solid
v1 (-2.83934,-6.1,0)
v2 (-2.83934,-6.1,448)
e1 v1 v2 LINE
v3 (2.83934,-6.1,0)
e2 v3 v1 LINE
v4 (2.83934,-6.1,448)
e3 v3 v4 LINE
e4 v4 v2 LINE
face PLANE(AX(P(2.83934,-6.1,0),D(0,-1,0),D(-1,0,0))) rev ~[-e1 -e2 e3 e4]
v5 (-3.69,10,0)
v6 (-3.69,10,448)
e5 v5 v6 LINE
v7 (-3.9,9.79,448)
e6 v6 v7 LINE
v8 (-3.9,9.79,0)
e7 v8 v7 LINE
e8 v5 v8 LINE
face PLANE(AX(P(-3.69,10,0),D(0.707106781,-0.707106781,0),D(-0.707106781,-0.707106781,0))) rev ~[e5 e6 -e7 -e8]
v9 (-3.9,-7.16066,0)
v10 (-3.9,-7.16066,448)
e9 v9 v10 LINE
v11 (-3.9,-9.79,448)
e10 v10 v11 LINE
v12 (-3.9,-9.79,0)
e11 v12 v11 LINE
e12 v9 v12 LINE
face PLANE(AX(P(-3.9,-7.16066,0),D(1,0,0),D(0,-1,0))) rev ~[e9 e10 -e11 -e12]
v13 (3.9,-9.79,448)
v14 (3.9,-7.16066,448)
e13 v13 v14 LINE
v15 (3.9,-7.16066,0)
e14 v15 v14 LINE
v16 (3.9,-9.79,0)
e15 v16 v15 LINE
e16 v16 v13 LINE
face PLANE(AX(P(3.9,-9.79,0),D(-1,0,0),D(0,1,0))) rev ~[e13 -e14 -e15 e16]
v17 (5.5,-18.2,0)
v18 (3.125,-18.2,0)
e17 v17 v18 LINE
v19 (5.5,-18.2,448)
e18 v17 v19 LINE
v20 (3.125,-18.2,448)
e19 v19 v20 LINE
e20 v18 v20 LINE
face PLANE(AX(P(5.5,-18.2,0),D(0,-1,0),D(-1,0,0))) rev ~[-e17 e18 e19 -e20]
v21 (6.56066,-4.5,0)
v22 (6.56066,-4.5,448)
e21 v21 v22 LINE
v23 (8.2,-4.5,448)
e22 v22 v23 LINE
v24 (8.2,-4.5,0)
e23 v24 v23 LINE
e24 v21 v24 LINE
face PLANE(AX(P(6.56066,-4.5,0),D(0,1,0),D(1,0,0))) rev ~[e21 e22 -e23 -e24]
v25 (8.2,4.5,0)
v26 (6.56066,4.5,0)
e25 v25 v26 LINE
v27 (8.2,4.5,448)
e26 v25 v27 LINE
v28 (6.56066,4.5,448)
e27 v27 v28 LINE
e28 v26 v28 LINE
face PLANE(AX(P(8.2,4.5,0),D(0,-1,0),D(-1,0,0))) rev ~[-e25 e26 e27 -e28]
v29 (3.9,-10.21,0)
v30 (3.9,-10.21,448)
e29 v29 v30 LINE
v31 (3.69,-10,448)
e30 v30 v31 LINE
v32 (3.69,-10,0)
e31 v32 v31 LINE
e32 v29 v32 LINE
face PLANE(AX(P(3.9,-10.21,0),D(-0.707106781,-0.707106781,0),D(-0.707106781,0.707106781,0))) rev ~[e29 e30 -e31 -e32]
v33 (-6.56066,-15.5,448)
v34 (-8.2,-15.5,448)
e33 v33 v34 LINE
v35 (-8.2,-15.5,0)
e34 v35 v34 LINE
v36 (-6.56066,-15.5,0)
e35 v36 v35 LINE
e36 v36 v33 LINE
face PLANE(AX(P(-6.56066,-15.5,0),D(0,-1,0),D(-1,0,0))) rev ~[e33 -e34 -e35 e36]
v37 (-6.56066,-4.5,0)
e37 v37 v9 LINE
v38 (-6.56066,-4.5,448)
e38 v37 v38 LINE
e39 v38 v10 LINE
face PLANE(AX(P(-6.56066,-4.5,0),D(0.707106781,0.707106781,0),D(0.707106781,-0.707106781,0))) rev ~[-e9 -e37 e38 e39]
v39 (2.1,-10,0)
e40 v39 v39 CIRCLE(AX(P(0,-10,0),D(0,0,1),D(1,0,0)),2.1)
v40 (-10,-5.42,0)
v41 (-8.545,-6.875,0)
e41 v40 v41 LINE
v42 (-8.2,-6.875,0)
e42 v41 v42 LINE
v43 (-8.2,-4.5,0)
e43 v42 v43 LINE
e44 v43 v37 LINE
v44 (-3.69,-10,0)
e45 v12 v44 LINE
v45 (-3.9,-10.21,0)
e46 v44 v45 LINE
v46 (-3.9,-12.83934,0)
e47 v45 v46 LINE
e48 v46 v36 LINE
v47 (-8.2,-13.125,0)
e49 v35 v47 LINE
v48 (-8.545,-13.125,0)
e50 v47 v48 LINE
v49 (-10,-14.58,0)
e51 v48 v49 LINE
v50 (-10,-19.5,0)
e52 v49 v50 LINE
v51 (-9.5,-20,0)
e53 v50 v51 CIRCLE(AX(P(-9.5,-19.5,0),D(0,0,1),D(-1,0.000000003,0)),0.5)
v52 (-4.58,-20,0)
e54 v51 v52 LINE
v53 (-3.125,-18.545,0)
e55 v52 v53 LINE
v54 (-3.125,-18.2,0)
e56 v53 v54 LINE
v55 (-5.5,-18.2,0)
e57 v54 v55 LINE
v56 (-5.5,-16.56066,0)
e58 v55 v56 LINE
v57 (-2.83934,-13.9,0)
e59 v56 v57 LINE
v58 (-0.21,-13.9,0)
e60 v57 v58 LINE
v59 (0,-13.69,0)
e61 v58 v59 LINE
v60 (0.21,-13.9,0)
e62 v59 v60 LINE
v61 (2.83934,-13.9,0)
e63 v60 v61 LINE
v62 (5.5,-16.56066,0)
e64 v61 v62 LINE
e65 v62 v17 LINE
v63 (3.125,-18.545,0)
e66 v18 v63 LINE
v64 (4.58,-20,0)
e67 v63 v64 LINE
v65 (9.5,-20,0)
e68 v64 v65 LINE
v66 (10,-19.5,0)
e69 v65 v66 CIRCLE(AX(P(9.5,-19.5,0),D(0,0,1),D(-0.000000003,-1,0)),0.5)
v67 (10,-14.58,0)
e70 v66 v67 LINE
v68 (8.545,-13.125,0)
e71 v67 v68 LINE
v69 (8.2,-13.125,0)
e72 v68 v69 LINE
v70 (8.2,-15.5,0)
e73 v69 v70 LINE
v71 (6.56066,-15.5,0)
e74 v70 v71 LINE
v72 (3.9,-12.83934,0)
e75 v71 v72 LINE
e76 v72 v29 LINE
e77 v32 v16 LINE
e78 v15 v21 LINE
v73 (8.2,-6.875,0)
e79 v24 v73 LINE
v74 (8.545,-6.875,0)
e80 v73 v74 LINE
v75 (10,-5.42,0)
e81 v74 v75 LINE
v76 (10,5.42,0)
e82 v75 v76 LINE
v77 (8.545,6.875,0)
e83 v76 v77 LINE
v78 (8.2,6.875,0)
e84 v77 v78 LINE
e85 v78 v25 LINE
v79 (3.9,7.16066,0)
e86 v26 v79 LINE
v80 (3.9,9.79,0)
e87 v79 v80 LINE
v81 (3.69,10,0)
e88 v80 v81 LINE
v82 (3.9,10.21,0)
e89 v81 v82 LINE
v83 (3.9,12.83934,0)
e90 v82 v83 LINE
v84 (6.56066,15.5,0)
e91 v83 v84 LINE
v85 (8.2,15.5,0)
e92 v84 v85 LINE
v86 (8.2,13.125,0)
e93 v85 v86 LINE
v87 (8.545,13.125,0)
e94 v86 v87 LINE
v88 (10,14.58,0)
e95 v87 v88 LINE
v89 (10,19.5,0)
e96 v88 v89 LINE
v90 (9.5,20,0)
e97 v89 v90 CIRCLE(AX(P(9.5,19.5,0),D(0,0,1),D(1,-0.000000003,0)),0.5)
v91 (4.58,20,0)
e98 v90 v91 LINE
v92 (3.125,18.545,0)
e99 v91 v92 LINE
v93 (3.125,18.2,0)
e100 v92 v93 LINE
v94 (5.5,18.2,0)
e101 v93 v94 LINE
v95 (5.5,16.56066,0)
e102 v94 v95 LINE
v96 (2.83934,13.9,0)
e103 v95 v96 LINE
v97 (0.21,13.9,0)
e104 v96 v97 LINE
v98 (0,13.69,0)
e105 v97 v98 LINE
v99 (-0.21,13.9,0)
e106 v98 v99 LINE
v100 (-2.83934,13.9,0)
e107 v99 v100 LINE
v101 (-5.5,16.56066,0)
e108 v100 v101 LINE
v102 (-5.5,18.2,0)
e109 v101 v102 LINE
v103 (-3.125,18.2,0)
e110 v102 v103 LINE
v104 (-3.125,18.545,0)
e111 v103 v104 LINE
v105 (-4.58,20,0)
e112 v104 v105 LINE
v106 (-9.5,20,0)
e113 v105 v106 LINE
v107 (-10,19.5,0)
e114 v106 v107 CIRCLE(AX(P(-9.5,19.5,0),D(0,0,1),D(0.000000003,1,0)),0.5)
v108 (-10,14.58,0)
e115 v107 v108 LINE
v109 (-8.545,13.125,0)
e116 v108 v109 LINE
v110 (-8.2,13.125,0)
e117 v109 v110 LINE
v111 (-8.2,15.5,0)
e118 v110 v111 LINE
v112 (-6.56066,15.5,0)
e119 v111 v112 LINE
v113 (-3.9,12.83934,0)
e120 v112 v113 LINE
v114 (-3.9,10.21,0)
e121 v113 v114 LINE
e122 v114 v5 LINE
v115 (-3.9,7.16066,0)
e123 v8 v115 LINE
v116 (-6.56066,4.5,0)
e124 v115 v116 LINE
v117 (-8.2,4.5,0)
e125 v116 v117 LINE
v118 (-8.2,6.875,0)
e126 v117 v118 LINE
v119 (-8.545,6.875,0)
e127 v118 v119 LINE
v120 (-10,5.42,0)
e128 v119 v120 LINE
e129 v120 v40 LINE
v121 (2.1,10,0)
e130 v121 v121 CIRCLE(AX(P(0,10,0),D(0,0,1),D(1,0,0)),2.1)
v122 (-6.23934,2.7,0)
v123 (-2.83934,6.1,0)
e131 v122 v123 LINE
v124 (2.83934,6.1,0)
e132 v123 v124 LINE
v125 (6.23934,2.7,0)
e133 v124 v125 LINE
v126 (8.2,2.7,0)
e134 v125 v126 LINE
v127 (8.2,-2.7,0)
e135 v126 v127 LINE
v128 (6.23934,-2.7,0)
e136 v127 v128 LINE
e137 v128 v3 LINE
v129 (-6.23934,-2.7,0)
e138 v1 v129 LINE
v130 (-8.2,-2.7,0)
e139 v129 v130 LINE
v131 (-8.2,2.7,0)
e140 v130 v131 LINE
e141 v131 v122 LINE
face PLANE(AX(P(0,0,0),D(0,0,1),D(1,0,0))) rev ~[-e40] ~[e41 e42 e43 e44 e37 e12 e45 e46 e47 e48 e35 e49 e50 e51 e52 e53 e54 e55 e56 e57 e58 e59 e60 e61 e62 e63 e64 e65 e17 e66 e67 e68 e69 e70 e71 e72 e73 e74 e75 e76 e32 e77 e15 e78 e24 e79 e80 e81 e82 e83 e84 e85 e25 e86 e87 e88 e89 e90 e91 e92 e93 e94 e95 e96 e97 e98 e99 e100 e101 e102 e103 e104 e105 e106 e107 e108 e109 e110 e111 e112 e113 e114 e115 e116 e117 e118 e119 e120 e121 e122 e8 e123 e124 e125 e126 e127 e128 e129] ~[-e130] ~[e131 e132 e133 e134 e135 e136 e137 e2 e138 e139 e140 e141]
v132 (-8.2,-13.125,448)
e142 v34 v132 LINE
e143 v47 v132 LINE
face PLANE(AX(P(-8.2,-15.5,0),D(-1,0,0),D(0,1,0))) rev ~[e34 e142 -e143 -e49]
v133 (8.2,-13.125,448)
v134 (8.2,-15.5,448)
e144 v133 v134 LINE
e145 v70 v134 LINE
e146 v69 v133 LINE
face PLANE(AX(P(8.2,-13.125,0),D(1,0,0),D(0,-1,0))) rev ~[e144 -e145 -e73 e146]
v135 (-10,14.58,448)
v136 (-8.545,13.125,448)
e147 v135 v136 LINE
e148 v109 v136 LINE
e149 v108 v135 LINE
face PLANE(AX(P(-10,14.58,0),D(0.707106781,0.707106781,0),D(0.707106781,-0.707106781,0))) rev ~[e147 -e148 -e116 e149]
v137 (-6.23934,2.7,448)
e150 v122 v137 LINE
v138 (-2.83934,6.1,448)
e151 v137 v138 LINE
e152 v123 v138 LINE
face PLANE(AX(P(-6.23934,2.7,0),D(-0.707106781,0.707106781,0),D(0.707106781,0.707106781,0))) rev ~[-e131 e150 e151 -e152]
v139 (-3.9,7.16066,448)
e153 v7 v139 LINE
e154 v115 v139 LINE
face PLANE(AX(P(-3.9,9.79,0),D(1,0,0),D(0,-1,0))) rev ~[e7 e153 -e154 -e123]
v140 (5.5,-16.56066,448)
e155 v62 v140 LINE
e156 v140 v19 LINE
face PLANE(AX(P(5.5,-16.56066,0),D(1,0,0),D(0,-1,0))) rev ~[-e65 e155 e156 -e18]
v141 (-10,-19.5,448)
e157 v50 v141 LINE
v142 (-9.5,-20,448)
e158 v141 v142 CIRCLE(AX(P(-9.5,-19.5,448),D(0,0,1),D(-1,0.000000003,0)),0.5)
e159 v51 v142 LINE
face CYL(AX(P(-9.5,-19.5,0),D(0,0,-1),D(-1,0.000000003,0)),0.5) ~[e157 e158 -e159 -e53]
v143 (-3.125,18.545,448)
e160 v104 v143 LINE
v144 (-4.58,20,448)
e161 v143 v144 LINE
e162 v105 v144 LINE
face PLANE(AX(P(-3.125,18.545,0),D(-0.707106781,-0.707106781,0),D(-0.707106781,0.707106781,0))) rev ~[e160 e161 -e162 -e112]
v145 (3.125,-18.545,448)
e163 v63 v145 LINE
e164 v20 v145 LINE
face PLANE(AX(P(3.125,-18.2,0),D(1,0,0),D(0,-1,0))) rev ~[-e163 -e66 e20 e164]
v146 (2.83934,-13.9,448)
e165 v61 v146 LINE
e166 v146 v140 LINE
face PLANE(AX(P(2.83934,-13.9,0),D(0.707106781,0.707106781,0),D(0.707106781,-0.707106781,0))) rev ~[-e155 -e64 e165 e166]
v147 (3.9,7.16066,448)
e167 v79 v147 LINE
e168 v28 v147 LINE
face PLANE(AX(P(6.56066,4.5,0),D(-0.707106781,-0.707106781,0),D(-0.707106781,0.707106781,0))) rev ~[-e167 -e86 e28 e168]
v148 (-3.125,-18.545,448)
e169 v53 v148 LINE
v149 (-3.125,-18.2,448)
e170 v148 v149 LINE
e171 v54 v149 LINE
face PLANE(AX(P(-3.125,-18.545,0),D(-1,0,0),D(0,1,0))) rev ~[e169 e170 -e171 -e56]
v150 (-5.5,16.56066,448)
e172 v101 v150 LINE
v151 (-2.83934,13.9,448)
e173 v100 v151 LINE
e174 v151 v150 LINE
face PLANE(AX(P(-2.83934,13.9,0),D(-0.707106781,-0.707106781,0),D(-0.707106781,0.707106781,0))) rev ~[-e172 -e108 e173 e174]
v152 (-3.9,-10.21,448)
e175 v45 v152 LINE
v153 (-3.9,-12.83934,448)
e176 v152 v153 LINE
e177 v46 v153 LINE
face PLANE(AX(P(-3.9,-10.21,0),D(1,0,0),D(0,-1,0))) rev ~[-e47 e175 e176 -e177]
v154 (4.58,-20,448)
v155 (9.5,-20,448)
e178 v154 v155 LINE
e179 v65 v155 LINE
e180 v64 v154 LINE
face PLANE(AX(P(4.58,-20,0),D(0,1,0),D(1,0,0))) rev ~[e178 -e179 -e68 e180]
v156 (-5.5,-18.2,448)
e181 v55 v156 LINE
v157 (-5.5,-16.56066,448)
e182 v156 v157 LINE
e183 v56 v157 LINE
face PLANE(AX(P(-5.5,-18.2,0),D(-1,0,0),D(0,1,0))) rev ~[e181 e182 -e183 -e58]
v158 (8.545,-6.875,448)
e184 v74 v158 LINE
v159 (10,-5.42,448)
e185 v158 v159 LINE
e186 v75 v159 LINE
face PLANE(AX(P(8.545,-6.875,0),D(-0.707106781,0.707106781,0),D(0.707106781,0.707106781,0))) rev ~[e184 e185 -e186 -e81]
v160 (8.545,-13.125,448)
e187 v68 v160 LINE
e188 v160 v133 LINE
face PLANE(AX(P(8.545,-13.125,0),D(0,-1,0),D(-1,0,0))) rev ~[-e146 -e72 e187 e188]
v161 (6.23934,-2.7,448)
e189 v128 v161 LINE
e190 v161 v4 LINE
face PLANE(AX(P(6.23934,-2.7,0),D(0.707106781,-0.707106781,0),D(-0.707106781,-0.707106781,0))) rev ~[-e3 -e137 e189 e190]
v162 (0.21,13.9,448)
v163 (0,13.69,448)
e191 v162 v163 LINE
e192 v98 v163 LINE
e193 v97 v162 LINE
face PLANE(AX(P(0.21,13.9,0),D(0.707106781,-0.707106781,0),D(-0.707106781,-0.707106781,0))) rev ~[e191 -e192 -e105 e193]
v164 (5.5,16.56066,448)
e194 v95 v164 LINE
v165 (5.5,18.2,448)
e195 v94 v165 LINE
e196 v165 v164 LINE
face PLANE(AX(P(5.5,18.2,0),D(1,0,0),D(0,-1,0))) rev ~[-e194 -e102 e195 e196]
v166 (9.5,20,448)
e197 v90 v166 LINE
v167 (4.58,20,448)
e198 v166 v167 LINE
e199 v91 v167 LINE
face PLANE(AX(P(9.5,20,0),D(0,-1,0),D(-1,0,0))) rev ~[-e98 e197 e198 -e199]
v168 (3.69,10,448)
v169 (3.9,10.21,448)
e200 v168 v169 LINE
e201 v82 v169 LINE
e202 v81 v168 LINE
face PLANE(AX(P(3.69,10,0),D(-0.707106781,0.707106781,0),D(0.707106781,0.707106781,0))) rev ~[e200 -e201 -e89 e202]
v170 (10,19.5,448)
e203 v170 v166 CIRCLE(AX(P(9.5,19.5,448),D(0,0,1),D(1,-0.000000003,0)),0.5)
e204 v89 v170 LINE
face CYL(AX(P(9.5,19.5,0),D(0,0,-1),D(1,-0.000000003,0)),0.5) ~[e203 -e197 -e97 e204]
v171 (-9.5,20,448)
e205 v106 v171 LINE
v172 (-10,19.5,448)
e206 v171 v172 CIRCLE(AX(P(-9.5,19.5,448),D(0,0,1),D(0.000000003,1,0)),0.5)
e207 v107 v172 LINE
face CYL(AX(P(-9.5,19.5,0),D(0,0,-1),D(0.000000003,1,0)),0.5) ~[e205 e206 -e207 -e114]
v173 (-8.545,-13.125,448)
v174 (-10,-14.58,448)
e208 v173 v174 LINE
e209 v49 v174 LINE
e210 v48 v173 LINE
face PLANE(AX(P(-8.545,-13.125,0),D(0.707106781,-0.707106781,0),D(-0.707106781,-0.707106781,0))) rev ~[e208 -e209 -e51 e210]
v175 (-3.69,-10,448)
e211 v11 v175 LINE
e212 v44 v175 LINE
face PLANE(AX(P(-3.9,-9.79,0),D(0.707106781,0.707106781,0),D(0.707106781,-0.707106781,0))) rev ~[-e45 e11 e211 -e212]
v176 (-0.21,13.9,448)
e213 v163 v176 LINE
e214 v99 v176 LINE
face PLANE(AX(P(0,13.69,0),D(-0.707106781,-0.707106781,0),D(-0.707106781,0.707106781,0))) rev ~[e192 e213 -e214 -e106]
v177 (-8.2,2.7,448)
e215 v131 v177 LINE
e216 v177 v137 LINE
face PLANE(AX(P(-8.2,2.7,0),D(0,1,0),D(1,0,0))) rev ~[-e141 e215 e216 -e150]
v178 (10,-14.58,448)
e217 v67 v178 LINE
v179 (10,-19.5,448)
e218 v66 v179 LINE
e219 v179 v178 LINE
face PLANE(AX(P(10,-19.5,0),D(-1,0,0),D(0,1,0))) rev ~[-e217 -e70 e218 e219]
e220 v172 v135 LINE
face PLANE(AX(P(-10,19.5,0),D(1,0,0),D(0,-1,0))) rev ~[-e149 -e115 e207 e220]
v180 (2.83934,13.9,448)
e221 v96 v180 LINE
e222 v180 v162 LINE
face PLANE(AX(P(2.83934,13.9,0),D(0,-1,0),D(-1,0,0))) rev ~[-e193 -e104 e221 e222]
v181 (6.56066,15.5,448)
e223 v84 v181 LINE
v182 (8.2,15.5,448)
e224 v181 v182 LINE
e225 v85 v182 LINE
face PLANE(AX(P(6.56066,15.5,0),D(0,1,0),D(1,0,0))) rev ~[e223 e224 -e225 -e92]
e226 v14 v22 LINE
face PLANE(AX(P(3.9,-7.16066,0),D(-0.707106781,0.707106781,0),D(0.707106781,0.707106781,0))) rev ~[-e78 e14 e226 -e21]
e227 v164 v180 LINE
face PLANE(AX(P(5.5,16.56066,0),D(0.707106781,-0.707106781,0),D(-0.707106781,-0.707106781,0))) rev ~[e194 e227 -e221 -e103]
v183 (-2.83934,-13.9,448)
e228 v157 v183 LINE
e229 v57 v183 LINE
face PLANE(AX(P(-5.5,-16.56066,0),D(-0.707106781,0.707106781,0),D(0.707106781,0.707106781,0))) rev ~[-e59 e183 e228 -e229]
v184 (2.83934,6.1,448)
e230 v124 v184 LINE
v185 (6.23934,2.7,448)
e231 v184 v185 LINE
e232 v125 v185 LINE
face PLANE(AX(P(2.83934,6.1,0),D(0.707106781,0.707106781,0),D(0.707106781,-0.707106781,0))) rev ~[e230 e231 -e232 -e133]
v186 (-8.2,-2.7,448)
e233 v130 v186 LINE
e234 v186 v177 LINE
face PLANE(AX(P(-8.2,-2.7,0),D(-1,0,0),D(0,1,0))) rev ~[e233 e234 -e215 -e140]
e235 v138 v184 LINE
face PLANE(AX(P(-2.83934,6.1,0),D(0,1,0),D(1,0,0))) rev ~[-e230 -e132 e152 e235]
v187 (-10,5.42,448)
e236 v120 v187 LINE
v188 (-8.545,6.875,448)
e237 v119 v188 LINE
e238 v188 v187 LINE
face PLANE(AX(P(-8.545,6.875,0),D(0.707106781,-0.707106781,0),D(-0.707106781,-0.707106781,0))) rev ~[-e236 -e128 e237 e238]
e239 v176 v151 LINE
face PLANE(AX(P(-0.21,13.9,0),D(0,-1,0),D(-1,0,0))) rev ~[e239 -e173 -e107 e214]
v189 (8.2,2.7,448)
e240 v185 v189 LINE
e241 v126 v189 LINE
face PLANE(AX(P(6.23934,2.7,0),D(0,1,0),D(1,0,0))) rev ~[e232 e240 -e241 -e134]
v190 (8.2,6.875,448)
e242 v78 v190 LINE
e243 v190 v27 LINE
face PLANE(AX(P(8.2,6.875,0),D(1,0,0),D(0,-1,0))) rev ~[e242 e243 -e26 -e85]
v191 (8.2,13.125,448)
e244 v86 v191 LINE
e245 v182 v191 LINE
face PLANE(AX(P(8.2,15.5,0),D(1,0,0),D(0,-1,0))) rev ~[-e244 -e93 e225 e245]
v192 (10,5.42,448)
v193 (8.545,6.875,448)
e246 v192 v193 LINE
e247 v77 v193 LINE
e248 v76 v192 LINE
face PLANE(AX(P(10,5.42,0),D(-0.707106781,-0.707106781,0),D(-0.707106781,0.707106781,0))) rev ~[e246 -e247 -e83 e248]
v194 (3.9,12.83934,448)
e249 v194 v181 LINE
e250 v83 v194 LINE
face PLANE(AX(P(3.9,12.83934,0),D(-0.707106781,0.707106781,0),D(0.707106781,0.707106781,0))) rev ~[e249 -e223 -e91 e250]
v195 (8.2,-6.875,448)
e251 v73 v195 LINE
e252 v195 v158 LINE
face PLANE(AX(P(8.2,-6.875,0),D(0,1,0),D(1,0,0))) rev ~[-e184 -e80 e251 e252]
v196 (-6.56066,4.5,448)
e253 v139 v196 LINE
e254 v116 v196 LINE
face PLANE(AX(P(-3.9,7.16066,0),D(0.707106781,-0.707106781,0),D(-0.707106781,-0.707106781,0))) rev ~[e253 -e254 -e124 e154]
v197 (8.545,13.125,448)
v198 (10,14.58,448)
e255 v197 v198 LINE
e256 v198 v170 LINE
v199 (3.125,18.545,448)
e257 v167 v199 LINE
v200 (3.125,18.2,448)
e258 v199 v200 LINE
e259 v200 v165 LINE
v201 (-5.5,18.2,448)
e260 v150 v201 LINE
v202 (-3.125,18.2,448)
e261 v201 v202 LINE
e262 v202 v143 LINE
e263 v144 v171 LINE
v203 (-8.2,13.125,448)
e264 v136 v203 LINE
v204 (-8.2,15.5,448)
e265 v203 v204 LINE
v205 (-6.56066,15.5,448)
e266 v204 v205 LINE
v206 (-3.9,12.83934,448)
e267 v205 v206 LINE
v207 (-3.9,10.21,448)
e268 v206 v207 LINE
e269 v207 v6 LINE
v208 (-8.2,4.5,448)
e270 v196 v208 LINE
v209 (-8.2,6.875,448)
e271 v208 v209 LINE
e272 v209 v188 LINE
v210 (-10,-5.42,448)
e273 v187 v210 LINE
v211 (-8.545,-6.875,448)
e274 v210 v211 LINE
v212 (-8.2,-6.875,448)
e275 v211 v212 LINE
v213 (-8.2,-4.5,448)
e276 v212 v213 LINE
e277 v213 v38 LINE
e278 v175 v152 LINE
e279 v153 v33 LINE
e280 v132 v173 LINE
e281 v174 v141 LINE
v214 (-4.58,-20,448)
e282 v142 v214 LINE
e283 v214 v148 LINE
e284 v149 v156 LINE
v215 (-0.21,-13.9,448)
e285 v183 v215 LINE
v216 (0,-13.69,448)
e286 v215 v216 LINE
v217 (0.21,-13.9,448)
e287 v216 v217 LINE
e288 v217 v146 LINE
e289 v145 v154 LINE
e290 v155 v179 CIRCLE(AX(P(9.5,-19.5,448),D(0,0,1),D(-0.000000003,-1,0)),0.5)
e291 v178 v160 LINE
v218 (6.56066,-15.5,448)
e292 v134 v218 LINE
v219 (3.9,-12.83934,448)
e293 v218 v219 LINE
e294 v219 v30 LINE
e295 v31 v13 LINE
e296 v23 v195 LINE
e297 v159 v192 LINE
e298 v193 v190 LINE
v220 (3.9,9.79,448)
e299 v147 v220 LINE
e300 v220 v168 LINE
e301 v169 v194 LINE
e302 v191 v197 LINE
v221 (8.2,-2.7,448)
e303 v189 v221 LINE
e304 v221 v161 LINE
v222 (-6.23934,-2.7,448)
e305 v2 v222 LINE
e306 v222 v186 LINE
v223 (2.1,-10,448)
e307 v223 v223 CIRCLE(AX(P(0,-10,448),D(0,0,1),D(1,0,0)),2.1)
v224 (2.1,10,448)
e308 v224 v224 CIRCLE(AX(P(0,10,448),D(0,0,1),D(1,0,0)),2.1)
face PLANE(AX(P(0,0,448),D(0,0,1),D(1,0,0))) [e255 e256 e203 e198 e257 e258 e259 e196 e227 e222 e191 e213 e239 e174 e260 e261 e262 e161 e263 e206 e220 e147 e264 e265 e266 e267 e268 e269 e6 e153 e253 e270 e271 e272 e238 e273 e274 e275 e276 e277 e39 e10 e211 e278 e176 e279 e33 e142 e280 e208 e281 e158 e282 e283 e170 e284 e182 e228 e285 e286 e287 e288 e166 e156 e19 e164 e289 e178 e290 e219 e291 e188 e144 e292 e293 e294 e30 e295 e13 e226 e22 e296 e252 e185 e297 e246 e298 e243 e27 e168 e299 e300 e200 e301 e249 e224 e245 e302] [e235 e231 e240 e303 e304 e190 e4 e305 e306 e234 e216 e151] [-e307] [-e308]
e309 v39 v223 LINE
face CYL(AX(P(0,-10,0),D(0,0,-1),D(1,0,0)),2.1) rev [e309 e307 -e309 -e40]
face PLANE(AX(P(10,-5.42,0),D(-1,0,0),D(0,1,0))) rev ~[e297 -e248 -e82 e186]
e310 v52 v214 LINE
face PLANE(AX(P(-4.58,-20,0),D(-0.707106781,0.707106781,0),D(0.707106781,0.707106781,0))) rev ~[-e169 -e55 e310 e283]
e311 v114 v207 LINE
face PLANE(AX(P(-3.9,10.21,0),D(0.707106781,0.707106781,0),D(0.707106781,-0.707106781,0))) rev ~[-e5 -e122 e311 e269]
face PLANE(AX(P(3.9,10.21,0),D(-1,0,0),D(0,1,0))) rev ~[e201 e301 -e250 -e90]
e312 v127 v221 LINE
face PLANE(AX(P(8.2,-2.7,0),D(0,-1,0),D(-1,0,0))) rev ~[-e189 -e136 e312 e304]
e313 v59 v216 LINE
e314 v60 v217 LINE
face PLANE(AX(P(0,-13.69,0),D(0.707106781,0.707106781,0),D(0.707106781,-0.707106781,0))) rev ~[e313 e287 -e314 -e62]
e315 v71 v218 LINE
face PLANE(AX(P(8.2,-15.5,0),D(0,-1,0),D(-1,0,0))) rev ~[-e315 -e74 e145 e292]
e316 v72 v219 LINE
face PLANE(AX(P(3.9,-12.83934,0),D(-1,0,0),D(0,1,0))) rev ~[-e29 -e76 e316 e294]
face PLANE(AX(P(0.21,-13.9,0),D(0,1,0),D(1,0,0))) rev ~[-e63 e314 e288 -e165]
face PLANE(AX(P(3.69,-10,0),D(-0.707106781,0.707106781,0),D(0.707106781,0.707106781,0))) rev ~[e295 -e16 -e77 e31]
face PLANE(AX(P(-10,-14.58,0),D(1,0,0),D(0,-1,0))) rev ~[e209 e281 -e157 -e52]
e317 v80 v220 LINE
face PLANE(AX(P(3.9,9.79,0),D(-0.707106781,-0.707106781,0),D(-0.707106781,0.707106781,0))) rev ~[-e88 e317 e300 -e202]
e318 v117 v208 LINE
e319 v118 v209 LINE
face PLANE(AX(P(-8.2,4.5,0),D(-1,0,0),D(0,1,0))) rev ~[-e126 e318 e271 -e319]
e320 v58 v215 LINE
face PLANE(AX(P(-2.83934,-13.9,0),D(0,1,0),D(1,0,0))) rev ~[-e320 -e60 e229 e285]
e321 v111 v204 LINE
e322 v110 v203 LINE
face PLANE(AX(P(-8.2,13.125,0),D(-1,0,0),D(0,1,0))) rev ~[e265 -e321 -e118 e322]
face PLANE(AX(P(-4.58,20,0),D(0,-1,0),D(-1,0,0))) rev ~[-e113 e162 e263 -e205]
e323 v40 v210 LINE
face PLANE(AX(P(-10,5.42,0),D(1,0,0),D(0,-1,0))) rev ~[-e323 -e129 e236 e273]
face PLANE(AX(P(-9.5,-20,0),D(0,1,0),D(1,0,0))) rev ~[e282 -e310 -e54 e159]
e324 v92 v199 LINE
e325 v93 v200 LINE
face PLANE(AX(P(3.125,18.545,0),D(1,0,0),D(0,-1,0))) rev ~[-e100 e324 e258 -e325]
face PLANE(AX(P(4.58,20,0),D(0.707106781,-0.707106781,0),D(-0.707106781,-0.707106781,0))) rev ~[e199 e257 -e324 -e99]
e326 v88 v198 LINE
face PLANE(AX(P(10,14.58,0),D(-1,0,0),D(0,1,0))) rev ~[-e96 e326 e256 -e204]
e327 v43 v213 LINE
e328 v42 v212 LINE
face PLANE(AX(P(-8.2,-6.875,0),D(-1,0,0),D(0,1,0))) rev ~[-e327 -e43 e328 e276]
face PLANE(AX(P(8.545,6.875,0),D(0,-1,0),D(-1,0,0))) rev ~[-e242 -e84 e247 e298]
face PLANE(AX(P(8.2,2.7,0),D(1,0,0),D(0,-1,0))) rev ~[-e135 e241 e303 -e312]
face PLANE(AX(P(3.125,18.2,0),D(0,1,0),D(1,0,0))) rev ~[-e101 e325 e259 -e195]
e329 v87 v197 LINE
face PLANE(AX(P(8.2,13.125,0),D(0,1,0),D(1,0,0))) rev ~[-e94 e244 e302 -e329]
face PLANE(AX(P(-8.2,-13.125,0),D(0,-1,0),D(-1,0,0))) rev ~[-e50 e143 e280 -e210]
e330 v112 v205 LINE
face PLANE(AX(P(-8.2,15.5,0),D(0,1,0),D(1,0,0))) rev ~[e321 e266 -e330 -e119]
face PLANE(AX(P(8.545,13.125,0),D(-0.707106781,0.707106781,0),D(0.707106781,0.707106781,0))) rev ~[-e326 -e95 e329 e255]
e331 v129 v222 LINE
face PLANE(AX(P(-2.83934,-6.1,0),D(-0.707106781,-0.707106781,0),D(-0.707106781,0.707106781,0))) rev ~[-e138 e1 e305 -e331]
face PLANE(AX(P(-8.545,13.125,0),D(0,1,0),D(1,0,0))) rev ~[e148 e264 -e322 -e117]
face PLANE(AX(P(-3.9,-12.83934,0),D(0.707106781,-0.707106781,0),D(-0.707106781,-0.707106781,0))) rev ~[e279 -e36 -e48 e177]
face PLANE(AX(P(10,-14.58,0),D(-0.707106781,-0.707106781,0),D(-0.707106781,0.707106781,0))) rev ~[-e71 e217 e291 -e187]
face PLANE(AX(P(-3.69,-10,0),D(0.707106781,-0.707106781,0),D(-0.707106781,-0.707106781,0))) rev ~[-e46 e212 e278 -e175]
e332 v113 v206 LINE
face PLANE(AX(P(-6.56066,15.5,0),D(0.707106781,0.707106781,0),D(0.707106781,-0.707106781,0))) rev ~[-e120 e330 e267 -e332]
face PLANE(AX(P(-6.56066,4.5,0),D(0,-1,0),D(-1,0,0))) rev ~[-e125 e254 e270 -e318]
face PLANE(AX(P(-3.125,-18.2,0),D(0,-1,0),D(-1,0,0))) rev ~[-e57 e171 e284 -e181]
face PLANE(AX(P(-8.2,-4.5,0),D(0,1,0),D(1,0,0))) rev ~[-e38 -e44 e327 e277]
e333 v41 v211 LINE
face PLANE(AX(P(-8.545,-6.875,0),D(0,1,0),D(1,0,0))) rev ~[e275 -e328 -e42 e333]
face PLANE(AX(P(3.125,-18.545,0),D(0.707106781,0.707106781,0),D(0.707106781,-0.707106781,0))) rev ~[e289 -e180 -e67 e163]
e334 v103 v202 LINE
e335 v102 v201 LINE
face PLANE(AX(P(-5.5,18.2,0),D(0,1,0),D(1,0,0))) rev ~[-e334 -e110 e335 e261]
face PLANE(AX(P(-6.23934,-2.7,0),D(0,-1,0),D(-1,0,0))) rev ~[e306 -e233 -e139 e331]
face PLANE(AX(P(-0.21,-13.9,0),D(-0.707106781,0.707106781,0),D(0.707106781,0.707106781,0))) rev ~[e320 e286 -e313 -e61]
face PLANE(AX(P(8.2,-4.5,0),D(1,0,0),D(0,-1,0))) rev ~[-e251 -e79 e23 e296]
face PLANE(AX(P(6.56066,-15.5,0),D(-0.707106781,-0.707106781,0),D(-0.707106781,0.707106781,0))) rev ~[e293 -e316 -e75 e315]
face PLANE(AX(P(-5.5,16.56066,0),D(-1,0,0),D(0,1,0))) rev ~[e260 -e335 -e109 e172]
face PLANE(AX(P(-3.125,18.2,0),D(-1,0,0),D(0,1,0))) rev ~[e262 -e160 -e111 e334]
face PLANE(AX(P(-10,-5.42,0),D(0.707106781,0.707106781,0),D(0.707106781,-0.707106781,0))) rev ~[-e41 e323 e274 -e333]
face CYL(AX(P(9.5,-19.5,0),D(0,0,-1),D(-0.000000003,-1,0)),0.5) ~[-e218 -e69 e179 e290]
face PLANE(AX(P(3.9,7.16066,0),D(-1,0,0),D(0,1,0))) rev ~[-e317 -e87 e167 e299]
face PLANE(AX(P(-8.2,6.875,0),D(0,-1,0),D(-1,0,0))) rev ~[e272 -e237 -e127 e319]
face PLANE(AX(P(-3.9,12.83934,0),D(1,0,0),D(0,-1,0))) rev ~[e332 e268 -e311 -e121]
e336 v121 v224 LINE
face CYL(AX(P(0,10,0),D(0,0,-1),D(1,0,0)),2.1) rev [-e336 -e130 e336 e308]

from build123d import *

# Parameters (mm, degrees)
SKETCH1_R           = 2.1
BOSS_EXTRUDE1_DEPTH = 448


with BuildPart() as part:
    # Sketch1 → Boss-Extrude1 (new body)
    with BuildSketch(Plane.XY):
        with BuildLine():
            Line((4.58, -20), (9.5, -20))
            ThreePointArc((9.5, -20), (9.853553391, -19.853553391), (10, -19.5))
            Line((10, -19.5), (10, -14.58))
            Line((10, -14.58), (8.545, -13.125))
            Line((8.545, -13.125), (8.2, -13.125))
            Line((8.2, -13.125), (8.2, -15.5))
            Line((8.2, -15.5), (6.560660172, -15.5))
            Line((6.560660172, -15.5), (3.9, -12.839339828))
            Line((3.9, -12.839339828), (3.9, -10.21))
            Line((3.9, -10.21), (3.69, -10))
            Line((3.69, -10), (3.9, -9.79))
            Line((3.9, -9.79), (3.9, -7.160660172))
            Line((3.9, -7.160660172), (6.560660172, -4.5))
            Line((6.560660172, -4.5), (8.2, -4.5))
            Line((8.2, -4.5), (8.2, -6.875))
            Line((8.2, -6.875), (8.545, -6.875))
            Line((8.545, -6.875), (10, -5.42))
            Line((10, -5.42), (10, 5.42))
            Line((10, 5.42), (8.545, 6.875))
            Line((8.545, 6.875), (8.2, 6.875))
            Line((8.2, 6.875), (8.2, 4.5))
            Line((8.2, 4.5), (6.560660172, 4.5))
            Line((6.560660172, 4.5), (3.9, 7.160660172))
            Line((3.9, 7.160660172), (3.9, 9.79))
            Line((3.9, 9.79), (3.69, 10))
            Line((3.69, 10), (3.9, 10.21))
            Line((3.9, 10.21), (3.9, 12.839339828))
            Line((3.9, 12.839339828), (6.560660172, 15.5))
            Line((6.560660172, 15.5), (8.2, 15.5))
            Line((8.2, 15.5), (8.2, 13.125))
            Line((8.2, 13.125), (8.545, 13.125))
            Line((8.545, 13.125), (10, 14.58))
            Line((10, 14.58), (10, 19.5))
            ThreePointArc((10, 19.5), (9.853553391, 19.853553391), (9.5, 20))
            Line((9.5, 20), (4.58, 20))
            Line((4.58, 20), (3.125, 18.545))
            Line((3.125, 18.545), (3.125, 18.2))
            Line((3.125, 18.2), (5.5, 18.2))
            Line((5.5, 18.2), (5.5, 16.560660172))
            Line((5.5, 16.560660172), (2.839339828, 13.9))
            Line((2.839339828, 13.9), (0.21, 13.9))
            Line((0.21, 13.9), (0, 13.69))
            Line((0, 13.69), (-0.21, 13.9))
            Line((-0.21, 13.9), (-2.839339828, 13.9))
            Line((-2.839339828, 13.9), (-5.5, 16.560660172))
            Line((-5.5, 16.560660172), (-5.5, 18.2))
            Line((-5.5, 18.2), (-3.125, 18.2))
            Line((-3.125, 18.2), (-3.125, 18.545))
            Line((-3.125, 18.545), (-4.58, 20))
            Line((-4.58, 20), (-9.5, 20))
            ThreePointArc((-9.5, 20), (-9.853553391, 19.853553391), (-10, 19.5))
            Line((-10, 19.5), (-10, 14.58))
            Line((-10, 14.58), (-8.545, 13.125))
            Line((-8.545, 13.125), (-8.2, 13.125))
            Line((-8.2, 13.125), (-8.2, 15.5))
            Line((-8.2, 15.5), (-6.560660172, 15.5))
            Line((-6.560660172, 15.5), (-3.9, 12.839339828))
            Line((-3.9, 12.839339828), (-3.9, 10.21))
            Line((-3.9, 10.21), (-3.69, 10))
            Line((-3.69, 10), (-3.9, 9.79))
            Line((-3.9, 9.79), (-3.9, 7.160660172))
            Line((-3.9, 7.160660172), (-6.560660172, 4.5))
            Line((-6.560660172, 4.5), (-8.2, 4.5))
            Line((-8.2, 4.5), (-8.2, 6.875))
            Line((-8.2, 6.875), (-8.545, 6.875))
            Line((-8.545, 6.875), (-10, 5.42))
            Line((-10, 5.42), (-10, -5.42))
            Line((-10, -5.42), (-8.545, -6.875))
            Line((-8.545, -6.875), (-8.2, -6.875))
            Line((-8.2, -6.875), (-8.2, -4.5))
            Line((-8.2, -4.5), (-6.560660172, -4.5))
            Line((-6.560660172, -4.5), (-3.9, -7.160660172))
            Line((-3.9, -7.160660172), (-3.9, -9.79))
            Line((-3.9, -9.79), (-3.69, -10))
            Line((-3.69, -10), (-3.9, -10.21))
            Line((-3.9, -10.21), (-3.9, -12.839339828))
            Line((-3.9, -12.839339828), (-6.560660172, -15.5))
            Line((-6.560660172, -15.5), (-8.2, -15.5))
            Line((-8.2, -15.5), (-8.2, -13.125))
            Line((-8.2, -13.125), (-8.545, -13.125))
            Line((-8.545, -13.125), (-10, -14.58))
            Line((-10, -14.58), (-10, -19.5))
            ThreePointArc((-10, -19.5), (-9.853553391, -19.853553391), (-9.5, -20))
            Line((-9.5, -20), (-4.58, -20))
            Line((-4.58, -20), (-3.125, -18.545))
            Line((-3.125, -18.545), (-3.125, -18.2))
            Line((-3.125, -18.2), (-5.5, -18.2))
            Line((-5.5, -18.2), (-5.5, -16.560660172))
            Line((-5.5, -16.560660172), (-2.839339828, -13.9))
            Line((-2.839339828, -13.9), (-0.21, -13.9))
            Line((-0.21, -13.9), (0, -13.69))
            Line((0, -13.69), (0.21, -13.9))
            Line((0.21, -13.9), (2.839339828, -13.9))
            Line((2.839339828, -13.9), (5.5, -16.560660172))
            Line((5.5, -16.560660172), (5.5, -18.2))
            Line((5.5, -18.2), (3.125, -18.2))
            Line((3.125, -18.2), (3.125, -18.545))
            Line((3.125, -18.545), (4.58, -20))
        make_face()
        with Locations((0, -10)):
            Circle(SKETCH1_R, mode=Mode.SUBTRACT)
        Polygon((-6.239339828, -2.7), (-8.2, -2.7), (-8.2, 2.7), (-6.239339828, 2.7), (-2.839339828, 6.1), (2.839339828, 6.1), (6.239339828, 2.7), (8.2, 2.7), (8.2, -2.7), (6.239339828, -2.7), (2.839339828, -6.1), (-2.839339828, -6.1), align=None, mode=Mode.SUBTRACT)
        with Locations((0, 10)):
            Circle(SKETCH1_R, mode=Mode.SUBTRACT)
    extrude(amount=BOSS_EXTRUDE1_DEPTH)


solid = part.part
